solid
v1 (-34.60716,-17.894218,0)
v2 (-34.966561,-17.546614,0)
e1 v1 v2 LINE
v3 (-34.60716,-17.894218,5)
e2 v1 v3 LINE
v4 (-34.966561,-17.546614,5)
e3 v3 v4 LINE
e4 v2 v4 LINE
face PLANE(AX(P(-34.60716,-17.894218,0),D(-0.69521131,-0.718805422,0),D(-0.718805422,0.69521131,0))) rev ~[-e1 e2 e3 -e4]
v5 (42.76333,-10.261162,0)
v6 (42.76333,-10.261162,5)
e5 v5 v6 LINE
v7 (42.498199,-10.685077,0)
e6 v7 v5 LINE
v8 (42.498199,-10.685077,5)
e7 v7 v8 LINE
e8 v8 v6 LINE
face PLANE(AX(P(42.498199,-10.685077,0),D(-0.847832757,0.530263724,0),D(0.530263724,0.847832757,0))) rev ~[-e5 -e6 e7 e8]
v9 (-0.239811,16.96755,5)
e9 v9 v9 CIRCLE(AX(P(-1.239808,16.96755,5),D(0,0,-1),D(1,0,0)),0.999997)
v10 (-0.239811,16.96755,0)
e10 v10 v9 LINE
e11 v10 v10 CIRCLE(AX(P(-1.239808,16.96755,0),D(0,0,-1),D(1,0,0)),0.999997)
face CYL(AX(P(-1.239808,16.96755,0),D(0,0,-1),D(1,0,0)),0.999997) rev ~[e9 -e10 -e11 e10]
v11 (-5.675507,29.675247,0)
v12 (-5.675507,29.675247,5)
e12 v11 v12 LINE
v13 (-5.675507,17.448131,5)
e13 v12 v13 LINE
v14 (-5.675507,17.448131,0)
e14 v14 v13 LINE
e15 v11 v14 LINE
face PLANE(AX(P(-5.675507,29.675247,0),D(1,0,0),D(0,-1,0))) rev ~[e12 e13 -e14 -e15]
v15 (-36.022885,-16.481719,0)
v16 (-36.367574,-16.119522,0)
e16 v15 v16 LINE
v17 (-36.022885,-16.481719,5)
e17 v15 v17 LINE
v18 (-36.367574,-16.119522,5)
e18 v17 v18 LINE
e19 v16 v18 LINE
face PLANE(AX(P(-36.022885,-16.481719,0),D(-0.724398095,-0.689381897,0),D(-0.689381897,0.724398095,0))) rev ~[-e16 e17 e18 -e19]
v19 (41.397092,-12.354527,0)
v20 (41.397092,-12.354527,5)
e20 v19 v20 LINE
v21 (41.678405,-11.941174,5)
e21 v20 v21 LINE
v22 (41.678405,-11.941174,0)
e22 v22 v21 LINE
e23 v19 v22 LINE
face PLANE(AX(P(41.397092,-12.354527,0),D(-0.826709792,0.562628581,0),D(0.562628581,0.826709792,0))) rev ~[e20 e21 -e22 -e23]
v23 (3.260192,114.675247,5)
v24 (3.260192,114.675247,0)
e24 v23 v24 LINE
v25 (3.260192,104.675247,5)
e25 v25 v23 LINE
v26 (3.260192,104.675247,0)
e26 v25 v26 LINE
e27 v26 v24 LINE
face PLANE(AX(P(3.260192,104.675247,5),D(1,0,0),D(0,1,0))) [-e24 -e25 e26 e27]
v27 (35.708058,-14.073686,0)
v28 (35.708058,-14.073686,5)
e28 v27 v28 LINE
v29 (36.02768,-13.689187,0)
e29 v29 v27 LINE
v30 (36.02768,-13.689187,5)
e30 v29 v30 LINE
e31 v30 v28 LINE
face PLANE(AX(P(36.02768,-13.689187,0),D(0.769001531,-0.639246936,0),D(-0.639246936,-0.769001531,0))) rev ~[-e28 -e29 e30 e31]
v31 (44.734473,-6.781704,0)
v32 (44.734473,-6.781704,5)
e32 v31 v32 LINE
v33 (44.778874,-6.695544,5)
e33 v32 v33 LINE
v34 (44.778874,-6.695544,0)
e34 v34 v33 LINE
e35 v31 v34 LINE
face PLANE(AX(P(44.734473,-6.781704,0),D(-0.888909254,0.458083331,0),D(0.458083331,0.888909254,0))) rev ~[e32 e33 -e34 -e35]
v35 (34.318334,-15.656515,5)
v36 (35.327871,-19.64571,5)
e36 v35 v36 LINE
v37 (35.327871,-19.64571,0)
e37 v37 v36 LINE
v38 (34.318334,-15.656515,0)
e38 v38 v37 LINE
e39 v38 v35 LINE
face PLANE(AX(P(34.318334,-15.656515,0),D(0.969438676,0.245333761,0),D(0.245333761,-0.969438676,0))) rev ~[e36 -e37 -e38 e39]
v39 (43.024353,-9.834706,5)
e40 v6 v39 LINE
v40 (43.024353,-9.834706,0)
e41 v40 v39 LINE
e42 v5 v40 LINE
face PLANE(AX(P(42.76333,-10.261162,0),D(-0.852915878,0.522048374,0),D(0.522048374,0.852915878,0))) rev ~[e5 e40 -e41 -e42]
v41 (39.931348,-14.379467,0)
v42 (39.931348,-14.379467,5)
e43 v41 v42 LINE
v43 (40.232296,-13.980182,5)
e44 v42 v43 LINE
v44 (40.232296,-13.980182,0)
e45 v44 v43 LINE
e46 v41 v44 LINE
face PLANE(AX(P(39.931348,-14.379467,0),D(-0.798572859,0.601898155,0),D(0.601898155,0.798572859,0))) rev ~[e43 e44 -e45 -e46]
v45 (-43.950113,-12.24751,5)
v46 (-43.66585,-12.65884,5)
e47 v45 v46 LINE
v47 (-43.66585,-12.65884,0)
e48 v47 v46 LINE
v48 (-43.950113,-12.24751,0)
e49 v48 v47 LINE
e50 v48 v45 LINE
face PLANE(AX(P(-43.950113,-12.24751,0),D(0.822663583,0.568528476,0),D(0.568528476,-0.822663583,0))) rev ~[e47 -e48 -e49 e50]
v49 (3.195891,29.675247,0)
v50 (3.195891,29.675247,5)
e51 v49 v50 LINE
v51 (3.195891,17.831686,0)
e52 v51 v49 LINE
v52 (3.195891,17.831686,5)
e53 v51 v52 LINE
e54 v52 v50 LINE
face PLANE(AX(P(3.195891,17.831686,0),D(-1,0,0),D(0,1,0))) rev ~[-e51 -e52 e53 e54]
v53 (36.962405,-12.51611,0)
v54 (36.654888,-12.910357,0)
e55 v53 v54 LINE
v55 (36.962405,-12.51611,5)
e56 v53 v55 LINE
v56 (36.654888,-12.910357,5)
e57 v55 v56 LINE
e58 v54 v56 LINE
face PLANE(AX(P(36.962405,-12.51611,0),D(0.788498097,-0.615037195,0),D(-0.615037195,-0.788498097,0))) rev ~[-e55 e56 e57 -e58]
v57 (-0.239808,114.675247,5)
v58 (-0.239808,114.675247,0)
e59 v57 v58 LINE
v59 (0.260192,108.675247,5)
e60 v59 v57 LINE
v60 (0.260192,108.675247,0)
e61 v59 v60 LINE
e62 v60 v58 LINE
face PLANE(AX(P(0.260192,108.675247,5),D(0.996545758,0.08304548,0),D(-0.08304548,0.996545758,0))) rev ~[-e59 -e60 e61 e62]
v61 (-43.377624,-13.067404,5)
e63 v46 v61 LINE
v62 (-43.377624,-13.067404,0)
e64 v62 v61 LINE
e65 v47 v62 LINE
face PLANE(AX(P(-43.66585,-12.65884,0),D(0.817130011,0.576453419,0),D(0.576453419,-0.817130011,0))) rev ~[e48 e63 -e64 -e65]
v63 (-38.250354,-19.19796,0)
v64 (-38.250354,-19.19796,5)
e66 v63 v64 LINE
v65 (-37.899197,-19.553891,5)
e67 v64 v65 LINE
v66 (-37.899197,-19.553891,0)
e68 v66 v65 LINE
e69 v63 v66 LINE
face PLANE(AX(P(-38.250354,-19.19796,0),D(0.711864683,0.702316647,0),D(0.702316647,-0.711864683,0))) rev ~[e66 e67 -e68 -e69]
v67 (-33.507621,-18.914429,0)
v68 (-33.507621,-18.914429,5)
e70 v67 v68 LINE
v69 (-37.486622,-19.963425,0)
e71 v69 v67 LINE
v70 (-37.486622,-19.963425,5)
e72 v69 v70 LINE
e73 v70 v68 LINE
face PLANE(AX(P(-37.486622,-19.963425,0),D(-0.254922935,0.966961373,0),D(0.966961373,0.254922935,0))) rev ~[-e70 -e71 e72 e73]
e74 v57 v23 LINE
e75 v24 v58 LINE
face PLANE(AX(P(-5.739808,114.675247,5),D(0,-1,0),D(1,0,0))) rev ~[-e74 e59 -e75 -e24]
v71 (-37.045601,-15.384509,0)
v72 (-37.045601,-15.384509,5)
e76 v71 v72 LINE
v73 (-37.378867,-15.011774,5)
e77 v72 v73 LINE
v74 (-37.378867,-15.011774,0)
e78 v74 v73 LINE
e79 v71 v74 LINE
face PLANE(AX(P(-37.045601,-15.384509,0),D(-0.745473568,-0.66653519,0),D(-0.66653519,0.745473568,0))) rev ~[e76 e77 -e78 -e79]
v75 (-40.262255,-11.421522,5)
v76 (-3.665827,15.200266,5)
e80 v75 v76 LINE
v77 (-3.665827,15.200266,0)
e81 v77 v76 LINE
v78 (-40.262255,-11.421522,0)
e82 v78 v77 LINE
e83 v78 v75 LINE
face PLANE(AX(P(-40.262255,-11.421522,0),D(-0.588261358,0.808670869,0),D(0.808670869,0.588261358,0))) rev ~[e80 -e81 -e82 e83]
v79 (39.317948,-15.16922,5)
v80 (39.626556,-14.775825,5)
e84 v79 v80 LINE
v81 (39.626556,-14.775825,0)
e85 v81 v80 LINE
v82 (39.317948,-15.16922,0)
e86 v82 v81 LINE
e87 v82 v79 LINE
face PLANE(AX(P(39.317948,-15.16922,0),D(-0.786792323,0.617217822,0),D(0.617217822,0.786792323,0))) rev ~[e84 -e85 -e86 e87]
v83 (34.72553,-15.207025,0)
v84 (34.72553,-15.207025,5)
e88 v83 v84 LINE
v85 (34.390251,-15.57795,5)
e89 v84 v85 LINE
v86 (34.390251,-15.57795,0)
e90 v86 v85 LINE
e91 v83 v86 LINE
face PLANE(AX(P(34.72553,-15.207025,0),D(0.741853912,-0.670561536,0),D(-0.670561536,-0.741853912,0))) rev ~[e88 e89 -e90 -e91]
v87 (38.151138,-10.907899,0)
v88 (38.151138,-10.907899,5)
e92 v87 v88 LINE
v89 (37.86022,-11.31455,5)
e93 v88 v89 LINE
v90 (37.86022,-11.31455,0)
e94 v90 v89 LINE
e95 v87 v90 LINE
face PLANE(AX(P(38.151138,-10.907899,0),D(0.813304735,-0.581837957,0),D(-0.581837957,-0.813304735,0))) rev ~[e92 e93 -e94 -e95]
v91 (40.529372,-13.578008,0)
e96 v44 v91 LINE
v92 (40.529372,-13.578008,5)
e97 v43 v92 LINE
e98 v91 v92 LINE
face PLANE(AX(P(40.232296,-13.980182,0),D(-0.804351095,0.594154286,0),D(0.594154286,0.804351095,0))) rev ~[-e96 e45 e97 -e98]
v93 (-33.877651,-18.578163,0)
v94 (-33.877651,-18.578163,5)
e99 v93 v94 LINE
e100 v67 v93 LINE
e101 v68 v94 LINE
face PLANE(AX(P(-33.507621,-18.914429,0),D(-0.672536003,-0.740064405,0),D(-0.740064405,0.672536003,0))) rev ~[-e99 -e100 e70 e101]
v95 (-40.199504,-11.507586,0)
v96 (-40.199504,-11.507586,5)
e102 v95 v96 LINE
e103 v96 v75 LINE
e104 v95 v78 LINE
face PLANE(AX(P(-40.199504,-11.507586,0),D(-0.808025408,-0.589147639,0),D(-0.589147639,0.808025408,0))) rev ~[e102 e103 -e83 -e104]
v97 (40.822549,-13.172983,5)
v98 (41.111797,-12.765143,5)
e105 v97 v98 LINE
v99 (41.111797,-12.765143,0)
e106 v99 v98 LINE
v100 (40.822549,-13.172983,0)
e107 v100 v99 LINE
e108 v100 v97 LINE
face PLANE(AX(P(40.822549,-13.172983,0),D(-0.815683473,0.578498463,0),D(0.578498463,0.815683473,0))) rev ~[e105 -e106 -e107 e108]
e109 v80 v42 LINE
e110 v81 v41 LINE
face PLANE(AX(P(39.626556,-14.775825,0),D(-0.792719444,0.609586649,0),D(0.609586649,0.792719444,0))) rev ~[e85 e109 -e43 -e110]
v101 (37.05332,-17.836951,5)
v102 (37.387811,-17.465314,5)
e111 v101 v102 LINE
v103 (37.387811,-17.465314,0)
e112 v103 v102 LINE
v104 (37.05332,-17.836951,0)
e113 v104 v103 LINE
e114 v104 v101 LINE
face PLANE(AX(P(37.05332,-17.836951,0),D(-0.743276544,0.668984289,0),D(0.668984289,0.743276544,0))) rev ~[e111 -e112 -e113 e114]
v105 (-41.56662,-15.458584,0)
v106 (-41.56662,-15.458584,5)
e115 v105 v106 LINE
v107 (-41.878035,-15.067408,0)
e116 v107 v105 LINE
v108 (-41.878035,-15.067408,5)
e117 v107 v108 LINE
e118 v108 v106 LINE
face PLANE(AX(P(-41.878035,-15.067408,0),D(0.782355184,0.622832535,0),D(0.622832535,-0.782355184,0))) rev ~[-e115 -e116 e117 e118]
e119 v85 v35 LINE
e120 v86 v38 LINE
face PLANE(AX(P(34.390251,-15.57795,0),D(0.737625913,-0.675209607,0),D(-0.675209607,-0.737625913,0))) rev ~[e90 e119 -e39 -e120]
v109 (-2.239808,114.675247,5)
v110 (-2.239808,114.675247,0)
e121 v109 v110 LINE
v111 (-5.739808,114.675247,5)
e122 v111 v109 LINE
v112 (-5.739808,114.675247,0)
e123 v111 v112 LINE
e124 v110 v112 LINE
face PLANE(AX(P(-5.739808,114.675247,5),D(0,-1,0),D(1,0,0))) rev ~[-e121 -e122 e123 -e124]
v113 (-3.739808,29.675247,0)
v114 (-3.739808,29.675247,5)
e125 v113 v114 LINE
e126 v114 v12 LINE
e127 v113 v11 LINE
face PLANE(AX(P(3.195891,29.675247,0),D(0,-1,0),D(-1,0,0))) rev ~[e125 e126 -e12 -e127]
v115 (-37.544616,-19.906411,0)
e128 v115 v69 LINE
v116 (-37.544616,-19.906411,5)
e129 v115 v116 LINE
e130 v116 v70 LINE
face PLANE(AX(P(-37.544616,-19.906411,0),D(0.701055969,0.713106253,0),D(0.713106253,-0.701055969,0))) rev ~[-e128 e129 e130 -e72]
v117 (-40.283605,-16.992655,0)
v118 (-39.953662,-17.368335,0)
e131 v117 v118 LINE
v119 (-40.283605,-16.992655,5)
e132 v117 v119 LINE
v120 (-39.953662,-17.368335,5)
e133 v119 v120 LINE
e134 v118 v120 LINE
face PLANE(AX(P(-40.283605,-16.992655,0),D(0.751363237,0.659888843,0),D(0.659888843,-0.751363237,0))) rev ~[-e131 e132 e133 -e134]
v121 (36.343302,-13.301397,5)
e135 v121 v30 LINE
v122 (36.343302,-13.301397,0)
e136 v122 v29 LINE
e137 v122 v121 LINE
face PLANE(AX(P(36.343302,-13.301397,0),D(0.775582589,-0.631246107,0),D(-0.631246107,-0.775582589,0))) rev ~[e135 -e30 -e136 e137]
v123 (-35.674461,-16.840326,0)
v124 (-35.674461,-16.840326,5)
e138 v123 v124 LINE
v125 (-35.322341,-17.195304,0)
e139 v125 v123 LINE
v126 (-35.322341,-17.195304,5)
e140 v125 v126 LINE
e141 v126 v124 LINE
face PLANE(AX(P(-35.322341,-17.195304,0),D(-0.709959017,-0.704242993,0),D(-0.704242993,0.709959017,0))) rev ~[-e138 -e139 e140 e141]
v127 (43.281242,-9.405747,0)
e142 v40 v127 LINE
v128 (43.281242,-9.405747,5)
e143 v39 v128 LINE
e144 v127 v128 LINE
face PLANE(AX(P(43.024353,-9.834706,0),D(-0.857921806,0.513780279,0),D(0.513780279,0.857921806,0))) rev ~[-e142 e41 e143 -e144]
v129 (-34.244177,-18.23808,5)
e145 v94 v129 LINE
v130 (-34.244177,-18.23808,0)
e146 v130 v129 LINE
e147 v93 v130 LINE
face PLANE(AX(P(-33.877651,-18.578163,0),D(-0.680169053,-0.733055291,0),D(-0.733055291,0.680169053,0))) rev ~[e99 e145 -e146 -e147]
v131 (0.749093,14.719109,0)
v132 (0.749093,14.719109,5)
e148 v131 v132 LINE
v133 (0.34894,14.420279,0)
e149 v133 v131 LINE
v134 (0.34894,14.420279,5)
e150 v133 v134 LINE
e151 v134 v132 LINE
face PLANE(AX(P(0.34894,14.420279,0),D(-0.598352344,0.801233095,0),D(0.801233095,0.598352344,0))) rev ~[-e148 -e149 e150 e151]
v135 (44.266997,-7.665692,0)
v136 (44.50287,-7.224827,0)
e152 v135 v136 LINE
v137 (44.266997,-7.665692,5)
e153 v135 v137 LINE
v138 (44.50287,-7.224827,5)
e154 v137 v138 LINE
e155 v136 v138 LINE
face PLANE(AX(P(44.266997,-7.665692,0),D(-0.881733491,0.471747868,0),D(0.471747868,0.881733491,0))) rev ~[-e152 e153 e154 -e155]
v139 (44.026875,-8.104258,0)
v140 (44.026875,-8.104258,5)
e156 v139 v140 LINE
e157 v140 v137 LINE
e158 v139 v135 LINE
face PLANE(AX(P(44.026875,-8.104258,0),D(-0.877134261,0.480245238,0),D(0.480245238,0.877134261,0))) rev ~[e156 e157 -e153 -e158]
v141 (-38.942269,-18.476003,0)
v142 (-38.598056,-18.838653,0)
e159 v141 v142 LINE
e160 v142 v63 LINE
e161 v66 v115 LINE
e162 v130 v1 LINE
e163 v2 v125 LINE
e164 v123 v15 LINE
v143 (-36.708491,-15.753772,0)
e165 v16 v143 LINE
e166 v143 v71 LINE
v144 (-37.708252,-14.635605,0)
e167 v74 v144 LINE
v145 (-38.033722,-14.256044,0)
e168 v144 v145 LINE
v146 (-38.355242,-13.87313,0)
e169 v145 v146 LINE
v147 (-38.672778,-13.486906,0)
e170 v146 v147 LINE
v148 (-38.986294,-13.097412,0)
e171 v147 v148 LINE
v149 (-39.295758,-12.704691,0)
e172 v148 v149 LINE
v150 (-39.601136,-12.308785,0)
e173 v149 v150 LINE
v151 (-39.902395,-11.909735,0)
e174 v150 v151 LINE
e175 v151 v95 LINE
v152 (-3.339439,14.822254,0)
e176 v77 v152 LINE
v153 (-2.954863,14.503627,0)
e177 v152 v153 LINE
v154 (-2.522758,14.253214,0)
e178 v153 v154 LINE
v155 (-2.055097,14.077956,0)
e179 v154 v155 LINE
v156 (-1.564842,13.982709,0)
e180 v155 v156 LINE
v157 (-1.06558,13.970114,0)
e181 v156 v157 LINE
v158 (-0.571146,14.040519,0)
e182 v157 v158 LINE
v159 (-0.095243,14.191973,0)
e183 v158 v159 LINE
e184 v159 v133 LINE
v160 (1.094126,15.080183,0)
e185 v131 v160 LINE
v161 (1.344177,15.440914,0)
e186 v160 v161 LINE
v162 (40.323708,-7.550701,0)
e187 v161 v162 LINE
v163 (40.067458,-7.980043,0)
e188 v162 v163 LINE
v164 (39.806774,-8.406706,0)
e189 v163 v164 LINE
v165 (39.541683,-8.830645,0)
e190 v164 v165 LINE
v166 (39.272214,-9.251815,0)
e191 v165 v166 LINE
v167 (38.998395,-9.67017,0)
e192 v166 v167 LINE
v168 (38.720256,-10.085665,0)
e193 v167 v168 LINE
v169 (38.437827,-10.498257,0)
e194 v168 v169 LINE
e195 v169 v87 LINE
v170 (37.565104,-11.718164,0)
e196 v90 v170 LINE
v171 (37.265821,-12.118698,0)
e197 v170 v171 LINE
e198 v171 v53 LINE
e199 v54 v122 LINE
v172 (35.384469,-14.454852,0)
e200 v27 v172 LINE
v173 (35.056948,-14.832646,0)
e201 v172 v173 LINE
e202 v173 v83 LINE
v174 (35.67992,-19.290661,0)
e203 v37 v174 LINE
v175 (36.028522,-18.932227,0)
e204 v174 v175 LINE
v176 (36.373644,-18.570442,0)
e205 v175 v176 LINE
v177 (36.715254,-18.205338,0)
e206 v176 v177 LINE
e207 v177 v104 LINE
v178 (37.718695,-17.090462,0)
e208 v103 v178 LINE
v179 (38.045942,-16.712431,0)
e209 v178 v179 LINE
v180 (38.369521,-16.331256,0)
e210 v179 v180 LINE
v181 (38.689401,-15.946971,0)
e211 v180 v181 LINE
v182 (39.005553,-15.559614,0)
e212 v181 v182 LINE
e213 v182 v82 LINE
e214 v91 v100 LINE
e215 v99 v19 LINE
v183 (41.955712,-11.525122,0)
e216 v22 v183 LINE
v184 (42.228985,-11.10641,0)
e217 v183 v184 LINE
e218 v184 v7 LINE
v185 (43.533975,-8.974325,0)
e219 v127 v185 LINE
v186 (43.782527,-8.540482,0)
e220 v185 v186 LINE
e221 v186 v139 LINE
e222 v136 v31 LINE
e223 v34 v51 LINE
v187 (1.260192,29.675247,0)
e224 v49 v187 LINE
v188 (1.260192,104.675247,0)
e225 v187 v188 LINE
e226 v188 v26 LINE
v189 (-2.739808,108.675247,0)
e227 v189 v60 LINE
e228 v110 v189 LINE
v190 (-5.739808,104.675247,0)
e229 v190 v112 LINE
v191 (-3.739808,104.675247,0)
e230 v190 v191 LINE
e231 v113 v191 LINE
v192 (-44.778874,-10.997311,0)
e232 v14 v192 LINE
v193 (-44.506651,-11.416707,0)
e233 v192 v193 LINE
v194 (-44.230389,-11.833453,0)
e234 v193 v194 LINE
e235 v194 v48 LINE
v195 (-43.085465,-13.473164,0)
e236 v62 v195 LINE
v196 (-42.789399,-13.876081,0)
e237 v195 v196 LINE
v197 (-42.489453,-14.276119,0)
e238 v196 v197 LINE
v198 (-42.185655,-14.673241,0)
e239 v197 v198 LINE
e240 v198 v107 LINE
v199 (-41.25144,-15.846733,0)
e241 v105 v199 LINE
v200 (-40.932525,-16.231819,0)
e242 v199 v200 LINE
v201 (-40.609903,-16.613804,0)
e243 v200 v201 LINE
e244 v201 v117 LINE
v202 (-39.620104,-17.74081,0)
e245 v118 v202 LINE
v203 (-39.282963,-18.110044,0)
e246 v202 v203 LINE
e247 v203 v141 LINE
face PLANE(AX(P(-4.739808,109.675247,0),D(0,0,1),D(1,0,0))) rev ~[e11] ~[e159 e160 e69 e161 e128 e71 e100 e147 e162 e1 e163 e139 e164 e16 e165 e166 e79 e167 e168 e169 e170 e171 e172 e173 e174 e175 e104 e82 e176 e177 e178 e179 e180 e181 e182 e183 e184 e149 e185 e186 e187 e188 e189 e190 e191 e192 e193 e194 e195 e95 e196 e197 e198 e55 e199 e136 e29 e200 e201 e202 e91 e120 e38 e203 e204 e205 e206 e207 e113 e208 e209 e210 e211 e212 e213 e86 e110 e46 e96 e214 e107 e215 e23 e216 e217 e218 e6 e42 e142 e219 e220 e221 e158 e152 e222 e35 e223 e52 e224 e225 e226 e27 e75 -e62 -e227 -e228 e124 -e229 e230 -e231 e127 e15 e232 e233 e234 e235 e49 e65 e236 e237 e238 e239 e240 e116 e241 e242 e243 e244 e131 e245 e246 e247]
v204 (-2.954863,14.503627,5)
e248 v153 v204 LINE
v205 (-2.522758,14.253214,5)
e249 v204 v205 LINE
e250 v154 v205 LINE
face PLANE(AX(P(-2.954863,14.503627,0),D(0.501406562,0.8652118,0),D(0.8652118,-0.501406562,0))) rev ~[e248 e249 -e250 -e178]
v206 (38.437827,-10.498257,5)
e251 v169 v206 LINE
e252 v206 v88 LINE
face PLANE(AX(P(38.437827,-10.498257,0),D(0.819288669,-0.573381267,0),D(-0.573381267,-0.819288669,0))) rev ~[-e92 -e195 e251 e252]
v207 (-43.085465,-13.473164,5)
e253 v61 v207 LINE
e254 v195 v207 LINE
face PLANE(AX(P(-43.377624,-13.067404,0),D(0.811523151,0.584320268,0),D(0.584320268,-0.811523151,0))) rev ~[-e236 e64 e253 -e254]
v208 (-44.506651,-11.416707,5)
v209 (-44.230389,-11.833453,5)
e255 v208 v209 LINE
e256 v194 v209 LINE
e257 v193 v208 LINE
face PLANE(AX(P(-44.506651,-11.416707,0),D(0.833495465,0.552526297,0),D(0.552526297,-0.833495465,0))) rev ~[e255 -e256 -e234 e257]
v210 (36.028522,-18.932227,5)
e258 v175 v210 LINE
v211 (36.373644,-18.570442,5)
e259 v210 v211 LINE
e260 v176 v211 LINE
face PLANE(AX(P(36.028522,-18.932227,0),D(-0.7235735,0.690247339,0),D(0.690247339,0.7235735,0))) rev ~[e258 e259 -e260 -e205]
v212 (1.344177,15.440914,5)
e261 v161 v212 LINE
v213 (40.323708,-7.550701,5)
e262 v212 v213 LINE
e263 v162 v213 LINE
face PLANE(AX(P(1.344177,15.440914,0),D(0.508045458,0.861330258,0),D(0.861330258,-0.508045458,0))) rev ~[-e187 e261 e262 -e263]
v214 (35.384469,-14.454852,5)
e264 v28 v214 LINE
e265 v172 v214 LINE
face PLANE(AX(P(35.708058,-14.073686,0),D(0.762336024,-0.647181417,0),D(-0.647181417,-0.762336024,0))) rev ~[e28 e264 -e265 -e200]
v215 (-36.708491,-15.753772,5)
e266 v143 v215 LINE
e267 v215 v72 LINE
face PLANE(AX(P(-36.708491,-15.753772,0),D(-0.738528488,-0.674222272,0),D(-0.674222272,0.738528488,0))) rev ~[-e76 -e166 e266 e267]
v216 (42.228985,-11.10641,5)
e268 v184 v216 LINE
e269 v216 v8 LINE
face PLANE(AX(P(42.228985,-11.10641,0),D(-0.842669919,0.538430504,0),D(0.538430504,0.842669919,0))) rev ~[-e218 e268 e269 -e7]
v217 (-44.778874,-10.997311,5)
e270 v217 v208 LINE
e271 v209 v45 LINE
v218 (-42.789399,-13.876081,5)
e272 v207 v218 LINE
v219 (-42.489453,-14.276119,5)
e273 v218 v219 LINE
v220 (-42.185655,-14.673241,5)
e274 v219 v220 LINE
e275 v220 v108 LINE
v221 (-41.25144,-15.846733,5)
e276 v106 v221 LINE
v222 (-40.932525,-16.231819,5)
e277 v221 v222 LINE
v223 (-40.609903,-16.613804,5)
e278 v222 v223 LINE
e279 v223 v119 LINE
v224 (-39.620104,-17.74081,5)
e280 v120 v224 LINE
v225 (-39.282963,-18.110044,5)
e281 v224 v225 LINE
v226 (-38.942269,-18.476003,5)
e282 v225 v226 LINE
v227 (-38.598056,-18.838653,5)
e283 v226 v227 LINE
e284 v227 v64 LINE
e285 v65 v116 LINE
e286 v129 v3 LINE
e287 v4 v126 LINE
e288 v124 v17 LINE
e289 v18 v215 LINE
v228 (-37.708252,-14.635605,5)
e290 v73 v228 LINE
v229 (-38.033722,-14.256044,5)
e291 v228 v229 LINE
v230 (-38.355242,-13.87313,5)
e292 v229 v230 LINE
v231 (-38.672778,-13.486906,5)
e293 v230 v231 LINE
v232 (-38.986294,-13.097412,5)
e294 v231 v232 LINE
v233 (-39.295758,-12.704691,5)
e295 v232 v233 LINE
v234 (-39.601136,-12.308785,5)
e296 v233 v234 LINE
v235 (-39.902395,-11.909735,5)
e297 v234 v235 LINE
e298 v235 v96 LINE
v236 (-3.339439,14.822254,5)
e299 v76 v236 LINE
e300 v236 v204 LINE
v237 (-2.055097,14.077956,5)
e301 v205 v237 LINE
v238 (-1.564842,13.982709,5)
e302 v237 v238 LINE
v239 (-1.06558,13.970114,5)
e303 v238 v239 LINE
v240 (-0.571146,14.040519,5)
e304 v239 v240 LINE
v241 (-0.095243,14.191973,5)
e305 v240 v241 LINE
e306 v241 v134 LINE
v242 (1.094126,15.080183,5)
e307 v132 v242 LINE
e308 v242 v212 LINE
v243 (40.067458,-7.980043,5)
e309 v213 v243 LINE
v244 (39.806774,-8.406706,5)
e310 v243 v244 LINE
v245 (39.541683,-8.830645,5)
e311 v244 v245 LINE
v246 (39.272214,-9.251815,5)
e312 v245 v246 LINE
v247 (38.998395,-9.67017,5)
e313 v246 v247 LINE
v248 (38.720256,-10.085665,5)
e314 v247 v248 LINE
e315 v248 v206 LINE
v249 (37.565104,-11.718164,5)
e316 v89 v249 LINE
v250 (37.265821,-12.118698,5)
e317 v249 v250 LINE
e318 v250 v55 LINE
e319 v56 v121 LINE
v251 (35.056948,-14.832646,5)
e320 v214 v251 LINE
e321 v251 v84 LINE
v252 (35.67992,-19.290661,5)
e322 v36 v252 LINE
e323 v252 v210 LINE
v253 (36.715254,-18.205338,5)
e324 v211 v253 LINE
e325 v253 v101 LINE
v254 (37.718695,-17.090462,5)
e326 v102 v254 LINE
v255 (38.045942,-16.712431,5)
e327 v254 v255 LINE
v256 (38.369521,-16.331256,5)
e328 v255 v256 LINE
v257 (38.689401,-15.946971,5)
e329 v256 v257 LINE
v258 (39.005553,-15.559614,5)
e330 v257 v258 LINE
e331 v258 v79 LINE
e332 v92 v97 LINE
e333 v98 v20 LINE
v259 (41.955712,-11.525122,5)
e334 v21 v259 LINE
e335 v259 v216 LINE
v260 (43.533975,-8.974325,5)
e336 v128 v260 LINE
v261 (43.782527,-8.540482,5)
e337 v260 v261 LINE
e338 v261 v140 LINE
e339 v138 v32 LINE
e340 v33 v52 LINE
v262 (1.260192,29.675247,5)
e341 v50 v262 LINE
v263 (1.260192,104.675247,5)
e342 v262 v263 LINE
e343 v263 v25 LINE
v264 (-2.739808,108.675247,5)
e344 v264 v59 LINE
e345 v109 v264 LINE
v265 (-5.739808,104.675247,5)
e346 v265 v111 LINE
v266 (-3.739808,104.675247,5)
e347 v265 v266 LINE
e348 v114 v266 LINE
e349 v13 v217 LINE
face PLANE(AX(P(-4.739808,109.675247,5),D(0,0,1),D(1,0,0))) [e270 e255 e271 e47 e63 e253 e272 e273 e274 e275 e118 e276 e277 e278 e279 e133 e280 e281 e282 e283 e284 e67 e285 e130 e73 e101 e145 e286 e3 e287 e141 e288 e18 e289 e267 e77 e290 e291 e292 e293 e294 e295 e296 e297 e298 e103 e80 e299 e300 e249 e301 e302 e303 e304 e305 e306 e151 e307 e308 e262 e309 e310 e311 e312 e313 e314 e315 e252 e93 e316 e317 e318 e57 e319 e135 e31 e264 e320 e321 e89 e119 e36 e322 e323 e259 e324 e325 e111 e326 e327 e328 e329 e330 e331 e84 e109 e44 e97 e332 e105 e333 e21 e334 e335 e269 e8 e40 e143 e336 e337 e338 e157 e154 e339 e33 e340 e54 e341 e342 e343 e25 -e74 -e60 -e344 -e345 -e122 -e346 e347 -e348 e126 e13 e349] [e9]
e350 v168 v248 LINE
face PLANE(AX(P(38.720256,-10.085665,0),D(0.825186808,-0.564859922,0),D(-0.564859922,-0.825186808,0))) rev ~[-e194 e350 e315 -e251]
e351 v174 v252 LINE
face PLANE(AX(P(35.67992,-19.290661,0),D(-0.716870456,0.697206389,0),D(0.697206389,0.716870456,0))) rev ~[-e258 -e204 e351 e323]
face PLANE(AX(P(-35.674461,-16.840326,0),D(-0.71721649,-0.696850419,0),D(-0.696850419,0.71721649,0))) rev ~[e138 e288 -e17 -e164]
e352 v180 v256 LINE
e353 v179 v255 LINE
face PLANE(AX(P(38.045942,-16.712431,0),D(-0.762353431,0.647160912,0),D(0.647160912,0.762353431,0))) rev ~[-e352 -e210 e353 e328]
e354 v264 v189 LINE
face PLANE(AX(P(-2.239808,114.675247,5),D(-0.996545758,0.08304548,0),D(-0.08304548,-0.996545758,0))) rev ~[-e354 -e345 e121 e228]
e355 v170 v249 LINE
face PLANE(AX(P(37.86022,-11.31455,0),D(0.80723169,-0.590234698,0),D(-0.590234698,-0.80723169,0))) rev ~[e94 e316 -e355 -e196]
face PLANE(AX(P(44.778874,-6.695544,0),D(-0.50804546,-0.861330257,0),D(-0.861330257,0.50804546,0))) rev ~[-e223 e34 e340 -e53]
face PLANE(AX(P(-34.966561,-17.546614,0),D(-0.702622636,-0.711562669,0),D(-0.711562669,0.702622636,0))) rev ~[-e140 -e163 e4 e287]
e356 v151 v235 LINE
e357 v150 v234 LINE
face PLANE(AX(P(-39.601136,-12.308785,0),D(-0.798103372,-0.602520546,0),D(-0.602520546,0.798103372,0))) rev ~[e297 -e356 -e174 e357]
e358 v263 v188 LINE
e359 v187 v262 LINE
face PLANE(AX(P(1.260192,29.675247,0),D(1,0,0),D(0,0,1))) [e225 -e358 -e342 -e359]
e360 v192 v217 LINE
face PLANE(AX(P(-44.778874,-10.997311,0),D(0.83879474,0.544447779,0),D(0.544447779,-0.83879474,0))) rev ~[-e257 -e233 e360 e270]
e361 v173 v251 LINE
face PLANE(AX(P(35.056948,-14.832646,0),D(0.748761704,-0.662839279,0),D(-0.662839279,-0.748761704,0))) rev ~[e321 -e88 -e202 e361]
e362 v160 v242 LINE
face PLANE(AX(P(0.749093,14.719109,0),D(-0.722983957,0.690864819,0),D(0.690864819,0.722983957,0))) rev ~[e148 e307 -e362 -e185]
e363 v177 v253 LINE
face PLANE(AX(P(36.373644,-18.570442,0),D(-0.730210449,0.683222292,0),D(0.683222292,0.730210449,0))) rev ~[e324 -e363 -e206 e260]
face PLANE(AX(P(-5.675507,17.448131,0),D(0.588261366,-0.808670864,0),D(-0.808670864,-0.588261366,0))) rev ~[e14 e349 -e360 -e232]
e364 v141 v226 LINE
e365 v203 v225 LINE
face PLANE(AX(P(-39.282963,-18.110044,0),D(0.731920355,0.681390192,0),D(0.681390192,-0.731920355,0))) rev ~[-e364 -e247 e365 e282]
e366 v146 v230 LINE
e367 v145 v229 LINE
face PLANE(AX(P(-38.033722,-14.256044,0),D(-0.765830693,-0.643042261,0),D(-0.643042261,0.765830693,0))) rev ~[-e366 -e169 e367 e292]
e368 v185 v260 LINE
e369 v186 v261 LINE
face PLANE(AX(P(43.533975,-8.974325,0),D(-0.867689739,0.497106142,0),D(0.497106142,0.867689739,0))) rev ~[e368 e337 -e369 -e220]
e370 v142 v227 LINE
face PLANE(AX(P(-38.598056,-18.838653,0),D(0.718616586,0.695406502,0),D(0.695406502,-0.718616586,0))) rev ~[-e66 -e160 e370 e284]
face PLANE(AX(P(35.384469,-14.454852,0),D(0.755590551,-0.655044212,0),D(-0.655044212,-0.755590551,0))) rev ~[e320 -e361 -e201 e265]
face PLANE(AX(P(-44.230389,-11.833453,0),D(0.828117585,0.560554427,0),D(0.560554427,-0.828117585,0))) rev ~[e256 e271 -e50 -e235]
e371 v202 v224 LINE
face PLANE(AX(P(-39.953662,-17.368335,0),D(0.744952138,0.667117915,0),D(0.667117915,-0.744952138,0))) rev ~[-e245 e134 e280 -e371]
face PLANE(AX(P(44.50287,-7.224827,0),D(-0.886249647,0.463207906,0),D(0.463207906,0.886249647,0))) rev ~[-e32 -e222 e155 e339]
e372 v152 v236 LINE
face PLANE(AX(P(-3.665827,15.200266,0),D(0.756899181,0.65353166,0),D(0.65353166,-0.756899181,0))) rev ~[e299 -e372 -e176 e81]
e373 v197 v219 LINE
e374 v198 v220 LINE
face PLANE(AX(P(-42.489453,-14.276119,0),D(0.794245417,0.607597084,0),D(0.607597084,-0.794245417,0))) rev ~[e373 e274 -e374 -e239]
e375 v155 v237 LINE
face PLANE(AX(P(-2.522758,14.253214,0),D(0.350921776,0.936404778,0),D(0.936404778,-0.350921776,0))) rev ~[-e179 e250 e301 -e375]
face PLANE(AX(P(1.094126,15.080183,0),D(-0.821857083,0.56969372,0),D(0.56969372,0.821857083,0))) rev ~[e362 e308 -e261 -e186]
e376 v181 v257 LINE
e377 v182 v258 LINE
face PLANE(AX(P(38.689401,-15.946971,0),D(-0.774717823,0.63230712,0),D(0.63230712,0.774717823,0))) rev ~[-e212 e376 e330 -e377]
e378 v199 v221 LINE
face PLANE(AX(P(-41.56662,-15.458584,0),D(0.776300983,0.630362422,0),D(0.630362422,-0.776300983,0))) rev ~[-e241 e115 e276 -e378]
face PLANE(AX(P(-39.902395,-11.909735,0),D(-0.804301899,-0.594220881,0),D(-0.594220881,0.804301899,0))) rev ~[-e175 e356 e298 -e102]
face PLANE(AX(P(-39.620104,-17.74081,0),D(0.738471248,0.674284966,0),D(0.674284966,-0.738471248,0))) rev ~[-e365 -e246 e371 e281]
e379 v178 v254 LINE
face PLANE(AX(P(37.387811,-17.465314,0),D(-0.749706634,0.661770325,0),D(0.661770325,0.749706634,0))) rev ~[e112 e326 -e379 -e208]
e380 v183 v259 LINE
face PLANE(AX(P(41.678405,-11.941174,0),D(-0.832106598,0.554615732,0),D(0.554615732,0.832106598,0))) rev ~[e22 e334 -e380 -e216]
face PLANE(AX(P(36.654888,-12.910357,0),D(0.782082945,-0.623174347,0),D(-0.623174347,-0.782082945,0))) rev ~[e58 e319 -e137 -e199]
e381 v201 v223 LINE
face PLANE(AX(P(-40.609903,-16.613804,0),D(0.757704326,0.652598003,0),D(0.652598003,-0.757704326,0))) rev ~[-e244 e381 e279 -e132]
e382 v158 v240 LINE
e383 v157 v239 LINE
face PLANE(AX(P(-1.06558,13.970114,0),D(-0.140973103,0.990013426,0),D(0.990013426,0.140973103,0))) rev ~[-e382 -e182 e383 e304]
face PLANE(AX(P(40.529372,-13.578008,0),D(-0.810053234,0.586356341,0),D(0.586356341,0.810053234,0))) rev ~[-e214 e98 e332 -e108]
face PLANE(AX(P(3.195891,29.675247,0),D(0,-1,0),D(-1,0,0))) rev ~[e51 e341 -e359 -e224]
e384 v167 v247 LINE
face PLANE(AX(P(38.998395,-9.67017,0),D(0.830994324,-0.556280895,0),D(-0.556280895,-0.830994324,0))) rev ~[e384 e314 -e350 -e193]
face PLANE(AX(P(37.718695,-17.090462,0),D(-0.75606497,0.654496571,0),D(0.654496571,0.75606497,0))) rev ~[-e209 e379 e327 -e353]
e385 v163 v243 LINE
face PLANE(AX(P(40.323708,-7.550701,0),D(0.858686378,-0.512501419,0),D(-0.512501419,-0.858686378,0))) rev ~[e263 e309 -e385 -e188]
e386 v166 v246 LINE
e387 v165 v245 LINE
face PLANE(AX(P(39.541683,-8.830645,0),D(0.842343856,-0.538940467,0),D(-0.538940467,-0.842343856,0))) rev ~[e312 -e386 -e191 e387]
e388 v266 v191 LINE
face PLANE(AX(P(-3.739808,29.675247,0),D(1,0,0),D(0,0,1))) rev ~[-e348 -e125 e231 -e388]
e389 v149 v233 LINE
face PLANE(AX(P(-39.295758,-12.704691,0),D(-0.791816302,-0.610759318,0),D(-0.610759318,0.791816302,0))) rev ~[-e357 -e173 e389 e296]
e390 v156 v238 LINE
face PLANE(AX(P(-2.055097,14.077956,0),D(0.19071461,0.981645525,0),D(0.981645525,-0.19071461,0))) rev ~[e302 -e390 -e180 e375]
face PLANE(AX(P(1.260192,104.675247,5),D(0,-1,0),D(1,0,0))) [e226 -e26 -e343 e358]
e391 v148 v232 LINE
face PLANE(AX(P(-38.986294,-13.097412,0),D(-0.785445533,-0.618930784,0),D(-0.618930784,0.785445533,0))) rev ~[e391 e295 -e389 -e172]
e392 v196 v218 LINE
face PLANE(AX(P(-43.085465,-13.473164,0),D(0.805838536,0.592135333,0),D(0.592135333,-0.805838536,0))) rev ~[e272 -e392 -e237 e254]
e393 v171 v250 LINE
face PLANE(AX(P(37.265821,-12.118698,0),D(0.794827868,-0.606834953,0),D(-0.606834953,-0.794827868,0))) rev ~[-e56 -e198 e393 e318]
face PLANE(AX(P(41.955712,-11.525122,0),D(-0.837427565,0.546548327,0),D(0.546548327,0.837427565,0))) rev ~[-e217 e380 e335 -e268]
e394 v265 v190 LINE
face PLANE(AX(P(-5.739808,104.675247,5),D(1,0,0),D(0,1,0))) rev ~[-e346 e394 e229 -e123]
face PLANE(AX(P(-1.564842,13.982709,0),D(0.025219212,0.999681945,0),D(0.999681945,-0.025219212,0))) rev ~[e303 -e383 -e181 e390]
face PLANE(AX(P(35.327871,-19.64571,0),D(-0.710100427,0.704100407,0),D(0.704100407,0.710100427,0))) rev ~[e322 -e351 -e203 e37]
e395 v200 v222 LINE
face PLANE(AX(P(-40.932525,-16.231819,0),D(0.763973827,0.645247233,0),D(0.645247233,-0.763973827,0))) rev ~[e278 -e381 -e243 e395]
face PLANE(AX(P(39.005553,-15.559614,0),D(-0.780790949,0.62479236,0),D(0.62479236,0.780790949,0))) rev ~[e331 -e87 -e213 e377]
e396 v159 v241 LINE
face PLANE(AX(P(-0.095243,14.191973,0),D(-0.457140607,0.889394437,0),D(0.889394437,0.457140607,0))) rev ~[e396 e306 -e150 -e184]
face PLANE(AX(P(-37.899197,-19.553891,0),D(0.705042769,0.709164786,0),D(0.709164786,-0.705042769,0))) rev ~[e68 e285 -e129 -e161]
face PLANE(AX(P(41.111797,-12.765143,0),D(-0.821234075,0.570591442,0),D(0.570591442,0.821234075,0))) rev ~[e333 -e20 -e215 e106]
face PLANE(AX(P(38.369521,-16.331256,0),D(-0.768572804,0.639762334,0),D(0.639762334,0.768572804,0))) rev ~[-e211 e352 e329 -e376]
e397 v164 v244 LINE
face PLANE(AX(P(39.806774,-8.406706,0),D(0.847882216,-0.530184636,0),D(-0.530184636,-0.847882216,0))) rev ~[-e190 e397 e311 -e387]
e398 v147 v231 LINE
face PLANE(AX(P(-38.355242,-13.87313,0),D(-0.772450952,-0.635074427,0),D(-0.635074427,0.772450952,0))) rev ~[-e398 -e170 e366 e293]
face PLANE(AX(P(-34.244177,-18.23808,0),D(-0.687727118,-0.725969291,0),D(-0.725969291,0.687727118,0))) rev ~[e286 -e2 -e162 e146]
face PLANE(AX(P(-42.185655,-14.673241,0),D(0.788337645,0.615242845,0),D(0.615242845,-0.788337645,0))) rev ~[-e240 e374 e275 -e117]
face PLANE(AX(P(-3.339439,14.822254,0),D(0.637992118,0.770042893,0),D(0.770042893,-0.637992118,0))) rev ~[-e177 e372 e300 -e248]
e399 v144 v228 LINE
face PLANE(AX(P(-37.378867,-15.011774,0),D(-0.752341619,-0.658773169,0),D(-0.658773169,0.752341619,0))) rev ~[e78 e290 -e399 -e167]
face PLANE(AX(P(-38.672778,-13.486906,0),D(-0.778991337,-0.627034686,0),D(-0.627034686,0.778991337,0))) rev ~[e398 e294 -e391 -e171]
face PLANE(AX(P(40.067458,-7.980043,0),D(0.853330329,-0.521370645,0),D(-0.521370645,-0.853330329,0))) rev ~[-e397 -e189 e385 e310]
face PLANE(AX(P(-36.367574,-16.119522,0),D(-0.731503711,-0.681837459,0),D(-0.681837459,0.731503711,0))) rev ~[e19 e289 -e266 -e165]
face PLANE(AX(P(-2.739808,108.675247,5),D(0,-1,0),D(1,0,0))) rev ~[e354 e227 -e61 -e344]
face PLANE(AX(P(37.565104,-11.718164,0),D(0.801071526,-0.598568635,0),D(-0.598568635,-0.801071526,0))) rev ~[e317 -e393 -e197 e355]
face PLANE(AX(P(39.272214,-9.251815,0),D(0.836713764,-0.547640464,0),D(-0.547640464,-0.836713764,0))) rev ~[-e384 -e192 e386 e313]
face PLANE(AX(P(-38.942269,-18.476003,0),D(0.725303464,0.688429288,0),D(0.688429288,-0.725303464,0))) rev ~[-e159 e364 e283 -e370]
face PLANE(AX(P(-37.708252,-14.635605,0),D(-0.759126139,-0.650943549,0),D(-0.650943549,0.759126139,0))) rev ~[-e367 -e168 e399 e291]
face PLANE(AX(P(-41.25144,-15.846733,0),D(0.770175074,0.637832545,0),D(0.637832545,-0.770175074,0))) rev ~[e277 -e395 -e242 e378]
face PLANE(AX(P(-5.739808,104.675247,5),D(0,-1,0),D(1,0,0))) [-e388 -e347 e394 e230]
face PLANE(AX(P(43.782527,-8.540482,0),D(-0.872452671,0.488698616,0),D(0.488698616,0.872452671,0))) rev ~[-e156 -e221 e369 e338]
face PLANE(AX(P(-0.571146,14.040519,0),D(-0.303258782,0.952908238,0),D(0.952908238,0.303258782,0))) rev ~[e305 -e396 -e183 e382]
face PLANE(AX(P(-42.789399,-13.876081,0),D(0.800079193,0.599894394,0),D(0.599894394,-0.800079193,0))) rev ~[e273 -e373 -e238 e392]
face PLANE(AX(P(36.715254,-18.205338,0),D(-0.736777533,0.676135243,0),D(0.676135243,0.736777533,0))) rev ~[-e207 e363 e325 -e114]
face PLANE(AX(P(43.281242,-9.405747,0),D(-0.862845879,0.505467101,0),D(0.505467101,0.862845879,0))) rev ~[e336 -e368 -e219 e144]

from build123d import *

# Parameters (mm, degrees)
F1_DEPTH = 5
F2_W     = 5
F2_H     = 5
F3_DEPTH = 85
F4_W     = 2
F4_H     = 10
F5_DEPTH = 5
F6_DEPTH = 5
F7_R     = 1
F8_DEPTH = 10


with BuildPart() as f1:
    # F0 (on Top) → F1 (new body)
    with BuildSketch(Plane.XY):
        Polygon((3.1958913997, 17.8316862418), (3.1958913997, 29.6752474937), (-5.6755073997, 29.6752474937), (-5.6755073997, 17.4481306137), (-3.004598, 19.391063), (-2.590673, 19.643703), (-2.127576, 19.830687), (-1.639877, 19.938255), (-1.14109, 19.963425), (-0.645039, 19.905499), (-0.165471, 19.766083), (0.284322, 19.549041), align=None)
        with BuildLine():
            Line((44.778874, -6.695544), (3.1958913997, 17.8316862418))
            Line((3.1958913997, 17.8316862418), (3.1958913997, 16.96755))
            Line((3.1958913997, 16.96755), (-0.239810875, 16.96755))
            ThreePointArc((-0.239810875, 16.96755), (-1.239808, 15.967552875), (-2.239805125, 16.96755))
            Line((-2.239805125, 16.96755), (-5.6755073997, 16.96755))
            Line((-5.6755073997, 16.96755), (-5.6755073997, 17.4481306137))
            Line((-5.6755073997, 17.4481306137), (-44.778874, -10.997311))
            Line((-44.778874, -10.997311), (-44.506651, -11.416707))
            Line((-44.506651, -11.416707), (-44.230389, -11.833453))
            Line((-44.230389, -11.833453), (-43.950113, -12.24751))
            Line((-43.950113, -12.24751), (-43.66585, -12.65884))
            Line((-43.66585, -12.65884), (-43.377624, -13.067404))
            Line((-43.377624, -13.067404), (-43.085465, -13.473164))
            Line((-43.085465, -13.473164), (-42.789399, -13.876081))
            Line((-42.789399, -13.876081), (-42.489453, -14.276119))
            Line((-42.489453, -14.276119), (-42.185655, -14.673241))
            Line((-42.185655, -14.673241), (-41.878035, -15.067408))
            Line((-41.878035, -15.067408), (-41.56662, -15.458584))
            Line((-41.56662, -15.458584), (-41.25144, -15.846733))
            Line((-41.25144, -15.846733), (-40.932525, -16.231819))
            Line((-40.932525, -16.231819), (-40.609903, -16.613804))
            Line((-40.609903, -16.613804), (-40.283605, -16.992655))
            Line((-40.283605, -16.992655), (-39.953662, -17.368335))
            Line((-39.953662, -17.368335), (-39.620104, -17.74081))
            Line((-39.620104, -17.74081), (-39.282963, -18.110044))
            Line((-39.282963, -18.110044), (-38.942269, -18.476003))
            Line((-38.942269, -18.476003), (-38.598056, -18.838653))
            Line((-38.598056, -18.838653), (-38.250354, -19.19796))
            Line((-38.250354, -19.19796), (-37.899197, -19.553891))
            Line((-37.899197, -19.553891), (-37.544616, -19.906411))
            Line((-37.544616, -19.906411), (-37.486622, -19.963425))
            Line((-37.486622, -19.963425), (-33.507621, -18.914429))
            Line((-33.507621, -18.914429), (-33.877651, -18.578163))
            Line((-33.877651, -18.578163), (-34.244177, -18.23808))
            Line((-34.244177, -18.23808), (-34.60716, -17.894218))
            Line((-34.60716, -17.894218), (-34.966561, -17.546614))
            Line((-34.966561, -17.546614), (-35.322341, -17.195304))
            Line((-35.322341, -17.195304), (-35.674461, -16.840326))
            Line((-35.674461, -16.840326), (-36.022885, -16.481719))
            Line((-36.022885, -16.481719), (-36.367574, -16.119522))
            Line((-36.367574, -16.119522), (-36.708491, -15.753772))
            Line((-36.708491, -15.753772), (-37.045601, -15.384509))
            Line((-37.045601, -15.384509), (-37.378867, -15.011774))
            Line((-37.378867, -15.011774), (-37.708252, -14.635605))
            Line((-37.708252, -14.635605), (-38.033722, -14.256044))
            Line((-38.033722, -14.256044), (-38.355242, -13.87313))
            Line((-38.355242, -13.87313), (-38.672778, -13.486906))
            Line((-38.672778, -13.486906), (-38.986294, -13.097412))
            Line((-38.986294, -13.097412), (-39.295758, -12.704691))
            Line((-39.295758, -12.704691), (-39.601136, -12.308785))
            Line((-39.601136, -12.308785), (-39.902395, -11.909735))
            Line((-39.902395, -11.909735), (-40.199504, -11.507586))
            Line((-40.199504, -11.507586), (-40.262255, -11.421522))
            Line((-40.262255, -11.421522), (-3.665827, 15.200266))
            Line((-3.665827, 15.200266), (-3.339439, 14.822254))
            Line((-3.339439, 14.822254), (-2.954863, 14.503627))
            Line((-2.954863, 14.503627), (-2.522758, 14.253214))
            Line((-2.522758, 14.253214), (-2.055097, 14.077956))
            Line((-2.055097, 14.077956), (-1.564842, 13.982709))
            Line((-1.564842, 13.982709), (-1.06558, 13.970114))
            Line((-1.06558, 13.970114), (-0.571146, 14.040519))
            Line((-0.571146, 14.040519), (-0.095243, 14.191973))
            Line((-0.095243, 14.191973), (0.34894, 14.420279))
            Line((0.34894, 14.420279), (0.749093, 14.719109))
            Line((0.749093, 14.719109), (1.094126, 15.080183))
            Line((1.094126, 15.080183), (1.344177, 15.440914))
            Line((1.344177, 15.440914), (40.323708, -7.550701))
            Line((40.323708, -7.550701), (40.067458, -7.980043))
            Line((40.067458, -7.980043), (39.806774, -8.406706))
            Line((39.806774, -8.406706), (39.541683, -8.830645))
            Line((39.541683, -8.830645), (39.272214, -9.251815))
            Line((39.272214, -9.251815), (38.998395, -9.67017))
            Line((38.998395, -9.67017), (38.720256, -10.085665))
            Line((38.720256, -10.085665), (38.437827, -10.498257))
            Line((38.437827, -10.498257), (38.151138, -10.907899))
            Line((38.151138, -10.907899), (37.86022, -11.31455))
            Line((37.86022, -11.31455), (37.565104, -11.718164))
            Line((37.565104, -11.718164), (37.265821, -12.118698))
            Line((37.265821, -12.118698), (36.962405, -12.51611))
            Line((36.962405, -12.51611), (36.654888, -12.910357))
            Line((36.654888, -12.910357), (36.343302, -13.301397))
            Line((36.343302, -13.301397), (36.02768, -13.689187))
            Line((36.02768, -13.689187), (35.708058, -14.073686))
            Line((35.708058, -14.073686), (35.384469, -14.454852))
            Line((35.384469, -14.454852), (35.056948, -14.832646))
            Line((35.056948, -14.832646), (34.72553, -15.207025))
            Line((34.72553, -15.207025), (34.390251, -15.57795))
            Line((34.390251, -15.57795), (34.318334, -15.656515))
            Line((34.318334, -15.656515), (35.327871, -19.64571))
            Line((35.327871, -19.64571), (35.67992, -19.290661))
            Line((35.67992, -19.290661), (36.028522, -18.932227))
            Line((36.028522, -18.932227), (36.373644, -18.570442))
            Line((36.373644, -18.570442), (36.715254, -18.205338))
            Line((36.715254, -18.205338), (37.05332, -17.836951))
            Line((37.05332, -17.836951), (37.387811, -17.465314))
            Line((37.387811, -17.465314), (37.718695, -17.090462))
            Line((37.718695, -17.090462), (38.045942, -16.712431))
            Line((38.045942, -16.712431), (38.369521, -16.331256))
            Line((38.369521, -16.331256), (38.689401, -15.946971))
            Line((38.689401, -15.946971), (39.005553, -15.559614))
            Line((39.005553, -15.559614), (39.317948, -15.16922))
            Line((39.317948, -15.16922), (39.626556, -14.775825))
            Line((39.626556, -14.775825), (39.931348, -14.379467))
            Line((39.931348, -14.379467), (40.232296, -13.980182))
            Line((40.232296, -13.980182), (40.529372, -13.578008))
            Line((40.529372, -13.578008), (40.822549, -13.172983))
            Line((40.822549, -13.172983), (41.111797, -12.765143))
            Line((41.111797, -12.765143), (41.397092, -12.354527))
            Line((41.397092, -12.354527), (41.678405, -11.941174))
            Line((41.678405, -11.941174), (41.955712, -11.525122))
            Line((41.955712, -11.525122), (42.228985, -11.10641))
            Line((42.228985, -11.10641), (42.498199, -10.685077))
            Line((42.498199, -10.685077), (42.76333, -10.261162))
            Line((42.76333, -10.261162), (43.024353, -9.834706))
            Line((43.024353, -9.834706), (43.281242, -9.405747))
            Line((43.281242, -9.405747), (43.533975, -8.974325))
            Line((43.533975, -8.974325), (43.782527, -8.540482))
            Line((43.782527, -8.540482), (44.026875, -8.104258))
            Line((44.026875, -8.104258), (44.266997, -7.665692))
            Line((44.266997, -7.665692), (44.50287, -7.224827))
            Line((44.50287, -7.224827), (44.734473, -6.781704))
            Line((44.734473, -6.781704), (44.778874, -6.695544))
        make_face()
        with BuildLine():
            Line((3.1958913997, 16.96755), (3.1958913997, 17.8316862418))
            Line((3.1958913997, 17.8316862418), (0.284322, 19.549041))
            Line((0.284322, 19.549041), (-0.165471, 19.766083))
            Line((-0.165471, 19.766083), (-0.645039, 19.905499))
            Line((-0.645039, 19.905499), (-1.14109, 19.963425))
            Line((-1.14109, 19.963425), (-1.639877, 19.938255))
            Line((-1.639877, 19.938255), (-2.127576, 19.830687))
            Line((-2.127576, 19.830687), (-2.590673, 19.643703))
            Line((-2.590673, 19.643703), (-3.004598, 19.391063))
            Line((-3.004598, 19.391063), (-5.6755073997, 17.4481306137))
            Line((-5.6755073997, 17.4481306137), (-5.6755073997, 16.96755))
            Line((-5.6755073997, 16.96755), (-2.239805125, 16.96755))
            ThreePointArc((-2.239805125, 16.96755), (-1.239808, 17.967547125), (-0.239810875, 16.96755))
            Line((-0.239810875, 16.96755), (3.1958913997, 16.96755))
        make_face()
    extrude(amount=F1_DEPTH)

    # F2 (on face) → F3 (join)
    with BuildSketch(Plane(origin=(0, 29.6752474937, 0), x_dir=(-1, 0, 0), z_dir=(0, 1, 0))):
        with Locations((1.239808, 2.5)):
            Rectangle(F2_W, F2_H)
    extrude(amount=F3_DEPTH)

    # F4 (on face) → F5 (join)
    with BuildSketch(Plane.XY.offset(5)):
        with Locations((-4.739808, 109.6752474937)):
            Rectangle(F4_W, F4_H)
        with Locations((2.260192, 109.6752474937)):
            Rectangle(F4_W, F4_H)
    extrude(amount=-F5_DEPTH)

    # F4 (on face) → F6 (cut)
    with BuildSketch(Plane.XY.offset(5)):
        Polygon((-0.239808, 114.6752474937), (-2.239808, 114.6752474937), (-2.739808, 108.6752474937), (0.260192, 108.6752474937), align=None)
    extrude(amount=-F6_DEPTH, mode=Mode.SUBTRACT)

    # F7 (on face) → F8 (cut)
    with BuildSketch(Plane.YZ.offset(3.260192)):
        with Locations((121.0267286794, 2.5)):
            Circle(F7_R)
    extrude(amount=-F8_DEPTH, mode=Mode.SUBTRACT)


solid = f1.part
